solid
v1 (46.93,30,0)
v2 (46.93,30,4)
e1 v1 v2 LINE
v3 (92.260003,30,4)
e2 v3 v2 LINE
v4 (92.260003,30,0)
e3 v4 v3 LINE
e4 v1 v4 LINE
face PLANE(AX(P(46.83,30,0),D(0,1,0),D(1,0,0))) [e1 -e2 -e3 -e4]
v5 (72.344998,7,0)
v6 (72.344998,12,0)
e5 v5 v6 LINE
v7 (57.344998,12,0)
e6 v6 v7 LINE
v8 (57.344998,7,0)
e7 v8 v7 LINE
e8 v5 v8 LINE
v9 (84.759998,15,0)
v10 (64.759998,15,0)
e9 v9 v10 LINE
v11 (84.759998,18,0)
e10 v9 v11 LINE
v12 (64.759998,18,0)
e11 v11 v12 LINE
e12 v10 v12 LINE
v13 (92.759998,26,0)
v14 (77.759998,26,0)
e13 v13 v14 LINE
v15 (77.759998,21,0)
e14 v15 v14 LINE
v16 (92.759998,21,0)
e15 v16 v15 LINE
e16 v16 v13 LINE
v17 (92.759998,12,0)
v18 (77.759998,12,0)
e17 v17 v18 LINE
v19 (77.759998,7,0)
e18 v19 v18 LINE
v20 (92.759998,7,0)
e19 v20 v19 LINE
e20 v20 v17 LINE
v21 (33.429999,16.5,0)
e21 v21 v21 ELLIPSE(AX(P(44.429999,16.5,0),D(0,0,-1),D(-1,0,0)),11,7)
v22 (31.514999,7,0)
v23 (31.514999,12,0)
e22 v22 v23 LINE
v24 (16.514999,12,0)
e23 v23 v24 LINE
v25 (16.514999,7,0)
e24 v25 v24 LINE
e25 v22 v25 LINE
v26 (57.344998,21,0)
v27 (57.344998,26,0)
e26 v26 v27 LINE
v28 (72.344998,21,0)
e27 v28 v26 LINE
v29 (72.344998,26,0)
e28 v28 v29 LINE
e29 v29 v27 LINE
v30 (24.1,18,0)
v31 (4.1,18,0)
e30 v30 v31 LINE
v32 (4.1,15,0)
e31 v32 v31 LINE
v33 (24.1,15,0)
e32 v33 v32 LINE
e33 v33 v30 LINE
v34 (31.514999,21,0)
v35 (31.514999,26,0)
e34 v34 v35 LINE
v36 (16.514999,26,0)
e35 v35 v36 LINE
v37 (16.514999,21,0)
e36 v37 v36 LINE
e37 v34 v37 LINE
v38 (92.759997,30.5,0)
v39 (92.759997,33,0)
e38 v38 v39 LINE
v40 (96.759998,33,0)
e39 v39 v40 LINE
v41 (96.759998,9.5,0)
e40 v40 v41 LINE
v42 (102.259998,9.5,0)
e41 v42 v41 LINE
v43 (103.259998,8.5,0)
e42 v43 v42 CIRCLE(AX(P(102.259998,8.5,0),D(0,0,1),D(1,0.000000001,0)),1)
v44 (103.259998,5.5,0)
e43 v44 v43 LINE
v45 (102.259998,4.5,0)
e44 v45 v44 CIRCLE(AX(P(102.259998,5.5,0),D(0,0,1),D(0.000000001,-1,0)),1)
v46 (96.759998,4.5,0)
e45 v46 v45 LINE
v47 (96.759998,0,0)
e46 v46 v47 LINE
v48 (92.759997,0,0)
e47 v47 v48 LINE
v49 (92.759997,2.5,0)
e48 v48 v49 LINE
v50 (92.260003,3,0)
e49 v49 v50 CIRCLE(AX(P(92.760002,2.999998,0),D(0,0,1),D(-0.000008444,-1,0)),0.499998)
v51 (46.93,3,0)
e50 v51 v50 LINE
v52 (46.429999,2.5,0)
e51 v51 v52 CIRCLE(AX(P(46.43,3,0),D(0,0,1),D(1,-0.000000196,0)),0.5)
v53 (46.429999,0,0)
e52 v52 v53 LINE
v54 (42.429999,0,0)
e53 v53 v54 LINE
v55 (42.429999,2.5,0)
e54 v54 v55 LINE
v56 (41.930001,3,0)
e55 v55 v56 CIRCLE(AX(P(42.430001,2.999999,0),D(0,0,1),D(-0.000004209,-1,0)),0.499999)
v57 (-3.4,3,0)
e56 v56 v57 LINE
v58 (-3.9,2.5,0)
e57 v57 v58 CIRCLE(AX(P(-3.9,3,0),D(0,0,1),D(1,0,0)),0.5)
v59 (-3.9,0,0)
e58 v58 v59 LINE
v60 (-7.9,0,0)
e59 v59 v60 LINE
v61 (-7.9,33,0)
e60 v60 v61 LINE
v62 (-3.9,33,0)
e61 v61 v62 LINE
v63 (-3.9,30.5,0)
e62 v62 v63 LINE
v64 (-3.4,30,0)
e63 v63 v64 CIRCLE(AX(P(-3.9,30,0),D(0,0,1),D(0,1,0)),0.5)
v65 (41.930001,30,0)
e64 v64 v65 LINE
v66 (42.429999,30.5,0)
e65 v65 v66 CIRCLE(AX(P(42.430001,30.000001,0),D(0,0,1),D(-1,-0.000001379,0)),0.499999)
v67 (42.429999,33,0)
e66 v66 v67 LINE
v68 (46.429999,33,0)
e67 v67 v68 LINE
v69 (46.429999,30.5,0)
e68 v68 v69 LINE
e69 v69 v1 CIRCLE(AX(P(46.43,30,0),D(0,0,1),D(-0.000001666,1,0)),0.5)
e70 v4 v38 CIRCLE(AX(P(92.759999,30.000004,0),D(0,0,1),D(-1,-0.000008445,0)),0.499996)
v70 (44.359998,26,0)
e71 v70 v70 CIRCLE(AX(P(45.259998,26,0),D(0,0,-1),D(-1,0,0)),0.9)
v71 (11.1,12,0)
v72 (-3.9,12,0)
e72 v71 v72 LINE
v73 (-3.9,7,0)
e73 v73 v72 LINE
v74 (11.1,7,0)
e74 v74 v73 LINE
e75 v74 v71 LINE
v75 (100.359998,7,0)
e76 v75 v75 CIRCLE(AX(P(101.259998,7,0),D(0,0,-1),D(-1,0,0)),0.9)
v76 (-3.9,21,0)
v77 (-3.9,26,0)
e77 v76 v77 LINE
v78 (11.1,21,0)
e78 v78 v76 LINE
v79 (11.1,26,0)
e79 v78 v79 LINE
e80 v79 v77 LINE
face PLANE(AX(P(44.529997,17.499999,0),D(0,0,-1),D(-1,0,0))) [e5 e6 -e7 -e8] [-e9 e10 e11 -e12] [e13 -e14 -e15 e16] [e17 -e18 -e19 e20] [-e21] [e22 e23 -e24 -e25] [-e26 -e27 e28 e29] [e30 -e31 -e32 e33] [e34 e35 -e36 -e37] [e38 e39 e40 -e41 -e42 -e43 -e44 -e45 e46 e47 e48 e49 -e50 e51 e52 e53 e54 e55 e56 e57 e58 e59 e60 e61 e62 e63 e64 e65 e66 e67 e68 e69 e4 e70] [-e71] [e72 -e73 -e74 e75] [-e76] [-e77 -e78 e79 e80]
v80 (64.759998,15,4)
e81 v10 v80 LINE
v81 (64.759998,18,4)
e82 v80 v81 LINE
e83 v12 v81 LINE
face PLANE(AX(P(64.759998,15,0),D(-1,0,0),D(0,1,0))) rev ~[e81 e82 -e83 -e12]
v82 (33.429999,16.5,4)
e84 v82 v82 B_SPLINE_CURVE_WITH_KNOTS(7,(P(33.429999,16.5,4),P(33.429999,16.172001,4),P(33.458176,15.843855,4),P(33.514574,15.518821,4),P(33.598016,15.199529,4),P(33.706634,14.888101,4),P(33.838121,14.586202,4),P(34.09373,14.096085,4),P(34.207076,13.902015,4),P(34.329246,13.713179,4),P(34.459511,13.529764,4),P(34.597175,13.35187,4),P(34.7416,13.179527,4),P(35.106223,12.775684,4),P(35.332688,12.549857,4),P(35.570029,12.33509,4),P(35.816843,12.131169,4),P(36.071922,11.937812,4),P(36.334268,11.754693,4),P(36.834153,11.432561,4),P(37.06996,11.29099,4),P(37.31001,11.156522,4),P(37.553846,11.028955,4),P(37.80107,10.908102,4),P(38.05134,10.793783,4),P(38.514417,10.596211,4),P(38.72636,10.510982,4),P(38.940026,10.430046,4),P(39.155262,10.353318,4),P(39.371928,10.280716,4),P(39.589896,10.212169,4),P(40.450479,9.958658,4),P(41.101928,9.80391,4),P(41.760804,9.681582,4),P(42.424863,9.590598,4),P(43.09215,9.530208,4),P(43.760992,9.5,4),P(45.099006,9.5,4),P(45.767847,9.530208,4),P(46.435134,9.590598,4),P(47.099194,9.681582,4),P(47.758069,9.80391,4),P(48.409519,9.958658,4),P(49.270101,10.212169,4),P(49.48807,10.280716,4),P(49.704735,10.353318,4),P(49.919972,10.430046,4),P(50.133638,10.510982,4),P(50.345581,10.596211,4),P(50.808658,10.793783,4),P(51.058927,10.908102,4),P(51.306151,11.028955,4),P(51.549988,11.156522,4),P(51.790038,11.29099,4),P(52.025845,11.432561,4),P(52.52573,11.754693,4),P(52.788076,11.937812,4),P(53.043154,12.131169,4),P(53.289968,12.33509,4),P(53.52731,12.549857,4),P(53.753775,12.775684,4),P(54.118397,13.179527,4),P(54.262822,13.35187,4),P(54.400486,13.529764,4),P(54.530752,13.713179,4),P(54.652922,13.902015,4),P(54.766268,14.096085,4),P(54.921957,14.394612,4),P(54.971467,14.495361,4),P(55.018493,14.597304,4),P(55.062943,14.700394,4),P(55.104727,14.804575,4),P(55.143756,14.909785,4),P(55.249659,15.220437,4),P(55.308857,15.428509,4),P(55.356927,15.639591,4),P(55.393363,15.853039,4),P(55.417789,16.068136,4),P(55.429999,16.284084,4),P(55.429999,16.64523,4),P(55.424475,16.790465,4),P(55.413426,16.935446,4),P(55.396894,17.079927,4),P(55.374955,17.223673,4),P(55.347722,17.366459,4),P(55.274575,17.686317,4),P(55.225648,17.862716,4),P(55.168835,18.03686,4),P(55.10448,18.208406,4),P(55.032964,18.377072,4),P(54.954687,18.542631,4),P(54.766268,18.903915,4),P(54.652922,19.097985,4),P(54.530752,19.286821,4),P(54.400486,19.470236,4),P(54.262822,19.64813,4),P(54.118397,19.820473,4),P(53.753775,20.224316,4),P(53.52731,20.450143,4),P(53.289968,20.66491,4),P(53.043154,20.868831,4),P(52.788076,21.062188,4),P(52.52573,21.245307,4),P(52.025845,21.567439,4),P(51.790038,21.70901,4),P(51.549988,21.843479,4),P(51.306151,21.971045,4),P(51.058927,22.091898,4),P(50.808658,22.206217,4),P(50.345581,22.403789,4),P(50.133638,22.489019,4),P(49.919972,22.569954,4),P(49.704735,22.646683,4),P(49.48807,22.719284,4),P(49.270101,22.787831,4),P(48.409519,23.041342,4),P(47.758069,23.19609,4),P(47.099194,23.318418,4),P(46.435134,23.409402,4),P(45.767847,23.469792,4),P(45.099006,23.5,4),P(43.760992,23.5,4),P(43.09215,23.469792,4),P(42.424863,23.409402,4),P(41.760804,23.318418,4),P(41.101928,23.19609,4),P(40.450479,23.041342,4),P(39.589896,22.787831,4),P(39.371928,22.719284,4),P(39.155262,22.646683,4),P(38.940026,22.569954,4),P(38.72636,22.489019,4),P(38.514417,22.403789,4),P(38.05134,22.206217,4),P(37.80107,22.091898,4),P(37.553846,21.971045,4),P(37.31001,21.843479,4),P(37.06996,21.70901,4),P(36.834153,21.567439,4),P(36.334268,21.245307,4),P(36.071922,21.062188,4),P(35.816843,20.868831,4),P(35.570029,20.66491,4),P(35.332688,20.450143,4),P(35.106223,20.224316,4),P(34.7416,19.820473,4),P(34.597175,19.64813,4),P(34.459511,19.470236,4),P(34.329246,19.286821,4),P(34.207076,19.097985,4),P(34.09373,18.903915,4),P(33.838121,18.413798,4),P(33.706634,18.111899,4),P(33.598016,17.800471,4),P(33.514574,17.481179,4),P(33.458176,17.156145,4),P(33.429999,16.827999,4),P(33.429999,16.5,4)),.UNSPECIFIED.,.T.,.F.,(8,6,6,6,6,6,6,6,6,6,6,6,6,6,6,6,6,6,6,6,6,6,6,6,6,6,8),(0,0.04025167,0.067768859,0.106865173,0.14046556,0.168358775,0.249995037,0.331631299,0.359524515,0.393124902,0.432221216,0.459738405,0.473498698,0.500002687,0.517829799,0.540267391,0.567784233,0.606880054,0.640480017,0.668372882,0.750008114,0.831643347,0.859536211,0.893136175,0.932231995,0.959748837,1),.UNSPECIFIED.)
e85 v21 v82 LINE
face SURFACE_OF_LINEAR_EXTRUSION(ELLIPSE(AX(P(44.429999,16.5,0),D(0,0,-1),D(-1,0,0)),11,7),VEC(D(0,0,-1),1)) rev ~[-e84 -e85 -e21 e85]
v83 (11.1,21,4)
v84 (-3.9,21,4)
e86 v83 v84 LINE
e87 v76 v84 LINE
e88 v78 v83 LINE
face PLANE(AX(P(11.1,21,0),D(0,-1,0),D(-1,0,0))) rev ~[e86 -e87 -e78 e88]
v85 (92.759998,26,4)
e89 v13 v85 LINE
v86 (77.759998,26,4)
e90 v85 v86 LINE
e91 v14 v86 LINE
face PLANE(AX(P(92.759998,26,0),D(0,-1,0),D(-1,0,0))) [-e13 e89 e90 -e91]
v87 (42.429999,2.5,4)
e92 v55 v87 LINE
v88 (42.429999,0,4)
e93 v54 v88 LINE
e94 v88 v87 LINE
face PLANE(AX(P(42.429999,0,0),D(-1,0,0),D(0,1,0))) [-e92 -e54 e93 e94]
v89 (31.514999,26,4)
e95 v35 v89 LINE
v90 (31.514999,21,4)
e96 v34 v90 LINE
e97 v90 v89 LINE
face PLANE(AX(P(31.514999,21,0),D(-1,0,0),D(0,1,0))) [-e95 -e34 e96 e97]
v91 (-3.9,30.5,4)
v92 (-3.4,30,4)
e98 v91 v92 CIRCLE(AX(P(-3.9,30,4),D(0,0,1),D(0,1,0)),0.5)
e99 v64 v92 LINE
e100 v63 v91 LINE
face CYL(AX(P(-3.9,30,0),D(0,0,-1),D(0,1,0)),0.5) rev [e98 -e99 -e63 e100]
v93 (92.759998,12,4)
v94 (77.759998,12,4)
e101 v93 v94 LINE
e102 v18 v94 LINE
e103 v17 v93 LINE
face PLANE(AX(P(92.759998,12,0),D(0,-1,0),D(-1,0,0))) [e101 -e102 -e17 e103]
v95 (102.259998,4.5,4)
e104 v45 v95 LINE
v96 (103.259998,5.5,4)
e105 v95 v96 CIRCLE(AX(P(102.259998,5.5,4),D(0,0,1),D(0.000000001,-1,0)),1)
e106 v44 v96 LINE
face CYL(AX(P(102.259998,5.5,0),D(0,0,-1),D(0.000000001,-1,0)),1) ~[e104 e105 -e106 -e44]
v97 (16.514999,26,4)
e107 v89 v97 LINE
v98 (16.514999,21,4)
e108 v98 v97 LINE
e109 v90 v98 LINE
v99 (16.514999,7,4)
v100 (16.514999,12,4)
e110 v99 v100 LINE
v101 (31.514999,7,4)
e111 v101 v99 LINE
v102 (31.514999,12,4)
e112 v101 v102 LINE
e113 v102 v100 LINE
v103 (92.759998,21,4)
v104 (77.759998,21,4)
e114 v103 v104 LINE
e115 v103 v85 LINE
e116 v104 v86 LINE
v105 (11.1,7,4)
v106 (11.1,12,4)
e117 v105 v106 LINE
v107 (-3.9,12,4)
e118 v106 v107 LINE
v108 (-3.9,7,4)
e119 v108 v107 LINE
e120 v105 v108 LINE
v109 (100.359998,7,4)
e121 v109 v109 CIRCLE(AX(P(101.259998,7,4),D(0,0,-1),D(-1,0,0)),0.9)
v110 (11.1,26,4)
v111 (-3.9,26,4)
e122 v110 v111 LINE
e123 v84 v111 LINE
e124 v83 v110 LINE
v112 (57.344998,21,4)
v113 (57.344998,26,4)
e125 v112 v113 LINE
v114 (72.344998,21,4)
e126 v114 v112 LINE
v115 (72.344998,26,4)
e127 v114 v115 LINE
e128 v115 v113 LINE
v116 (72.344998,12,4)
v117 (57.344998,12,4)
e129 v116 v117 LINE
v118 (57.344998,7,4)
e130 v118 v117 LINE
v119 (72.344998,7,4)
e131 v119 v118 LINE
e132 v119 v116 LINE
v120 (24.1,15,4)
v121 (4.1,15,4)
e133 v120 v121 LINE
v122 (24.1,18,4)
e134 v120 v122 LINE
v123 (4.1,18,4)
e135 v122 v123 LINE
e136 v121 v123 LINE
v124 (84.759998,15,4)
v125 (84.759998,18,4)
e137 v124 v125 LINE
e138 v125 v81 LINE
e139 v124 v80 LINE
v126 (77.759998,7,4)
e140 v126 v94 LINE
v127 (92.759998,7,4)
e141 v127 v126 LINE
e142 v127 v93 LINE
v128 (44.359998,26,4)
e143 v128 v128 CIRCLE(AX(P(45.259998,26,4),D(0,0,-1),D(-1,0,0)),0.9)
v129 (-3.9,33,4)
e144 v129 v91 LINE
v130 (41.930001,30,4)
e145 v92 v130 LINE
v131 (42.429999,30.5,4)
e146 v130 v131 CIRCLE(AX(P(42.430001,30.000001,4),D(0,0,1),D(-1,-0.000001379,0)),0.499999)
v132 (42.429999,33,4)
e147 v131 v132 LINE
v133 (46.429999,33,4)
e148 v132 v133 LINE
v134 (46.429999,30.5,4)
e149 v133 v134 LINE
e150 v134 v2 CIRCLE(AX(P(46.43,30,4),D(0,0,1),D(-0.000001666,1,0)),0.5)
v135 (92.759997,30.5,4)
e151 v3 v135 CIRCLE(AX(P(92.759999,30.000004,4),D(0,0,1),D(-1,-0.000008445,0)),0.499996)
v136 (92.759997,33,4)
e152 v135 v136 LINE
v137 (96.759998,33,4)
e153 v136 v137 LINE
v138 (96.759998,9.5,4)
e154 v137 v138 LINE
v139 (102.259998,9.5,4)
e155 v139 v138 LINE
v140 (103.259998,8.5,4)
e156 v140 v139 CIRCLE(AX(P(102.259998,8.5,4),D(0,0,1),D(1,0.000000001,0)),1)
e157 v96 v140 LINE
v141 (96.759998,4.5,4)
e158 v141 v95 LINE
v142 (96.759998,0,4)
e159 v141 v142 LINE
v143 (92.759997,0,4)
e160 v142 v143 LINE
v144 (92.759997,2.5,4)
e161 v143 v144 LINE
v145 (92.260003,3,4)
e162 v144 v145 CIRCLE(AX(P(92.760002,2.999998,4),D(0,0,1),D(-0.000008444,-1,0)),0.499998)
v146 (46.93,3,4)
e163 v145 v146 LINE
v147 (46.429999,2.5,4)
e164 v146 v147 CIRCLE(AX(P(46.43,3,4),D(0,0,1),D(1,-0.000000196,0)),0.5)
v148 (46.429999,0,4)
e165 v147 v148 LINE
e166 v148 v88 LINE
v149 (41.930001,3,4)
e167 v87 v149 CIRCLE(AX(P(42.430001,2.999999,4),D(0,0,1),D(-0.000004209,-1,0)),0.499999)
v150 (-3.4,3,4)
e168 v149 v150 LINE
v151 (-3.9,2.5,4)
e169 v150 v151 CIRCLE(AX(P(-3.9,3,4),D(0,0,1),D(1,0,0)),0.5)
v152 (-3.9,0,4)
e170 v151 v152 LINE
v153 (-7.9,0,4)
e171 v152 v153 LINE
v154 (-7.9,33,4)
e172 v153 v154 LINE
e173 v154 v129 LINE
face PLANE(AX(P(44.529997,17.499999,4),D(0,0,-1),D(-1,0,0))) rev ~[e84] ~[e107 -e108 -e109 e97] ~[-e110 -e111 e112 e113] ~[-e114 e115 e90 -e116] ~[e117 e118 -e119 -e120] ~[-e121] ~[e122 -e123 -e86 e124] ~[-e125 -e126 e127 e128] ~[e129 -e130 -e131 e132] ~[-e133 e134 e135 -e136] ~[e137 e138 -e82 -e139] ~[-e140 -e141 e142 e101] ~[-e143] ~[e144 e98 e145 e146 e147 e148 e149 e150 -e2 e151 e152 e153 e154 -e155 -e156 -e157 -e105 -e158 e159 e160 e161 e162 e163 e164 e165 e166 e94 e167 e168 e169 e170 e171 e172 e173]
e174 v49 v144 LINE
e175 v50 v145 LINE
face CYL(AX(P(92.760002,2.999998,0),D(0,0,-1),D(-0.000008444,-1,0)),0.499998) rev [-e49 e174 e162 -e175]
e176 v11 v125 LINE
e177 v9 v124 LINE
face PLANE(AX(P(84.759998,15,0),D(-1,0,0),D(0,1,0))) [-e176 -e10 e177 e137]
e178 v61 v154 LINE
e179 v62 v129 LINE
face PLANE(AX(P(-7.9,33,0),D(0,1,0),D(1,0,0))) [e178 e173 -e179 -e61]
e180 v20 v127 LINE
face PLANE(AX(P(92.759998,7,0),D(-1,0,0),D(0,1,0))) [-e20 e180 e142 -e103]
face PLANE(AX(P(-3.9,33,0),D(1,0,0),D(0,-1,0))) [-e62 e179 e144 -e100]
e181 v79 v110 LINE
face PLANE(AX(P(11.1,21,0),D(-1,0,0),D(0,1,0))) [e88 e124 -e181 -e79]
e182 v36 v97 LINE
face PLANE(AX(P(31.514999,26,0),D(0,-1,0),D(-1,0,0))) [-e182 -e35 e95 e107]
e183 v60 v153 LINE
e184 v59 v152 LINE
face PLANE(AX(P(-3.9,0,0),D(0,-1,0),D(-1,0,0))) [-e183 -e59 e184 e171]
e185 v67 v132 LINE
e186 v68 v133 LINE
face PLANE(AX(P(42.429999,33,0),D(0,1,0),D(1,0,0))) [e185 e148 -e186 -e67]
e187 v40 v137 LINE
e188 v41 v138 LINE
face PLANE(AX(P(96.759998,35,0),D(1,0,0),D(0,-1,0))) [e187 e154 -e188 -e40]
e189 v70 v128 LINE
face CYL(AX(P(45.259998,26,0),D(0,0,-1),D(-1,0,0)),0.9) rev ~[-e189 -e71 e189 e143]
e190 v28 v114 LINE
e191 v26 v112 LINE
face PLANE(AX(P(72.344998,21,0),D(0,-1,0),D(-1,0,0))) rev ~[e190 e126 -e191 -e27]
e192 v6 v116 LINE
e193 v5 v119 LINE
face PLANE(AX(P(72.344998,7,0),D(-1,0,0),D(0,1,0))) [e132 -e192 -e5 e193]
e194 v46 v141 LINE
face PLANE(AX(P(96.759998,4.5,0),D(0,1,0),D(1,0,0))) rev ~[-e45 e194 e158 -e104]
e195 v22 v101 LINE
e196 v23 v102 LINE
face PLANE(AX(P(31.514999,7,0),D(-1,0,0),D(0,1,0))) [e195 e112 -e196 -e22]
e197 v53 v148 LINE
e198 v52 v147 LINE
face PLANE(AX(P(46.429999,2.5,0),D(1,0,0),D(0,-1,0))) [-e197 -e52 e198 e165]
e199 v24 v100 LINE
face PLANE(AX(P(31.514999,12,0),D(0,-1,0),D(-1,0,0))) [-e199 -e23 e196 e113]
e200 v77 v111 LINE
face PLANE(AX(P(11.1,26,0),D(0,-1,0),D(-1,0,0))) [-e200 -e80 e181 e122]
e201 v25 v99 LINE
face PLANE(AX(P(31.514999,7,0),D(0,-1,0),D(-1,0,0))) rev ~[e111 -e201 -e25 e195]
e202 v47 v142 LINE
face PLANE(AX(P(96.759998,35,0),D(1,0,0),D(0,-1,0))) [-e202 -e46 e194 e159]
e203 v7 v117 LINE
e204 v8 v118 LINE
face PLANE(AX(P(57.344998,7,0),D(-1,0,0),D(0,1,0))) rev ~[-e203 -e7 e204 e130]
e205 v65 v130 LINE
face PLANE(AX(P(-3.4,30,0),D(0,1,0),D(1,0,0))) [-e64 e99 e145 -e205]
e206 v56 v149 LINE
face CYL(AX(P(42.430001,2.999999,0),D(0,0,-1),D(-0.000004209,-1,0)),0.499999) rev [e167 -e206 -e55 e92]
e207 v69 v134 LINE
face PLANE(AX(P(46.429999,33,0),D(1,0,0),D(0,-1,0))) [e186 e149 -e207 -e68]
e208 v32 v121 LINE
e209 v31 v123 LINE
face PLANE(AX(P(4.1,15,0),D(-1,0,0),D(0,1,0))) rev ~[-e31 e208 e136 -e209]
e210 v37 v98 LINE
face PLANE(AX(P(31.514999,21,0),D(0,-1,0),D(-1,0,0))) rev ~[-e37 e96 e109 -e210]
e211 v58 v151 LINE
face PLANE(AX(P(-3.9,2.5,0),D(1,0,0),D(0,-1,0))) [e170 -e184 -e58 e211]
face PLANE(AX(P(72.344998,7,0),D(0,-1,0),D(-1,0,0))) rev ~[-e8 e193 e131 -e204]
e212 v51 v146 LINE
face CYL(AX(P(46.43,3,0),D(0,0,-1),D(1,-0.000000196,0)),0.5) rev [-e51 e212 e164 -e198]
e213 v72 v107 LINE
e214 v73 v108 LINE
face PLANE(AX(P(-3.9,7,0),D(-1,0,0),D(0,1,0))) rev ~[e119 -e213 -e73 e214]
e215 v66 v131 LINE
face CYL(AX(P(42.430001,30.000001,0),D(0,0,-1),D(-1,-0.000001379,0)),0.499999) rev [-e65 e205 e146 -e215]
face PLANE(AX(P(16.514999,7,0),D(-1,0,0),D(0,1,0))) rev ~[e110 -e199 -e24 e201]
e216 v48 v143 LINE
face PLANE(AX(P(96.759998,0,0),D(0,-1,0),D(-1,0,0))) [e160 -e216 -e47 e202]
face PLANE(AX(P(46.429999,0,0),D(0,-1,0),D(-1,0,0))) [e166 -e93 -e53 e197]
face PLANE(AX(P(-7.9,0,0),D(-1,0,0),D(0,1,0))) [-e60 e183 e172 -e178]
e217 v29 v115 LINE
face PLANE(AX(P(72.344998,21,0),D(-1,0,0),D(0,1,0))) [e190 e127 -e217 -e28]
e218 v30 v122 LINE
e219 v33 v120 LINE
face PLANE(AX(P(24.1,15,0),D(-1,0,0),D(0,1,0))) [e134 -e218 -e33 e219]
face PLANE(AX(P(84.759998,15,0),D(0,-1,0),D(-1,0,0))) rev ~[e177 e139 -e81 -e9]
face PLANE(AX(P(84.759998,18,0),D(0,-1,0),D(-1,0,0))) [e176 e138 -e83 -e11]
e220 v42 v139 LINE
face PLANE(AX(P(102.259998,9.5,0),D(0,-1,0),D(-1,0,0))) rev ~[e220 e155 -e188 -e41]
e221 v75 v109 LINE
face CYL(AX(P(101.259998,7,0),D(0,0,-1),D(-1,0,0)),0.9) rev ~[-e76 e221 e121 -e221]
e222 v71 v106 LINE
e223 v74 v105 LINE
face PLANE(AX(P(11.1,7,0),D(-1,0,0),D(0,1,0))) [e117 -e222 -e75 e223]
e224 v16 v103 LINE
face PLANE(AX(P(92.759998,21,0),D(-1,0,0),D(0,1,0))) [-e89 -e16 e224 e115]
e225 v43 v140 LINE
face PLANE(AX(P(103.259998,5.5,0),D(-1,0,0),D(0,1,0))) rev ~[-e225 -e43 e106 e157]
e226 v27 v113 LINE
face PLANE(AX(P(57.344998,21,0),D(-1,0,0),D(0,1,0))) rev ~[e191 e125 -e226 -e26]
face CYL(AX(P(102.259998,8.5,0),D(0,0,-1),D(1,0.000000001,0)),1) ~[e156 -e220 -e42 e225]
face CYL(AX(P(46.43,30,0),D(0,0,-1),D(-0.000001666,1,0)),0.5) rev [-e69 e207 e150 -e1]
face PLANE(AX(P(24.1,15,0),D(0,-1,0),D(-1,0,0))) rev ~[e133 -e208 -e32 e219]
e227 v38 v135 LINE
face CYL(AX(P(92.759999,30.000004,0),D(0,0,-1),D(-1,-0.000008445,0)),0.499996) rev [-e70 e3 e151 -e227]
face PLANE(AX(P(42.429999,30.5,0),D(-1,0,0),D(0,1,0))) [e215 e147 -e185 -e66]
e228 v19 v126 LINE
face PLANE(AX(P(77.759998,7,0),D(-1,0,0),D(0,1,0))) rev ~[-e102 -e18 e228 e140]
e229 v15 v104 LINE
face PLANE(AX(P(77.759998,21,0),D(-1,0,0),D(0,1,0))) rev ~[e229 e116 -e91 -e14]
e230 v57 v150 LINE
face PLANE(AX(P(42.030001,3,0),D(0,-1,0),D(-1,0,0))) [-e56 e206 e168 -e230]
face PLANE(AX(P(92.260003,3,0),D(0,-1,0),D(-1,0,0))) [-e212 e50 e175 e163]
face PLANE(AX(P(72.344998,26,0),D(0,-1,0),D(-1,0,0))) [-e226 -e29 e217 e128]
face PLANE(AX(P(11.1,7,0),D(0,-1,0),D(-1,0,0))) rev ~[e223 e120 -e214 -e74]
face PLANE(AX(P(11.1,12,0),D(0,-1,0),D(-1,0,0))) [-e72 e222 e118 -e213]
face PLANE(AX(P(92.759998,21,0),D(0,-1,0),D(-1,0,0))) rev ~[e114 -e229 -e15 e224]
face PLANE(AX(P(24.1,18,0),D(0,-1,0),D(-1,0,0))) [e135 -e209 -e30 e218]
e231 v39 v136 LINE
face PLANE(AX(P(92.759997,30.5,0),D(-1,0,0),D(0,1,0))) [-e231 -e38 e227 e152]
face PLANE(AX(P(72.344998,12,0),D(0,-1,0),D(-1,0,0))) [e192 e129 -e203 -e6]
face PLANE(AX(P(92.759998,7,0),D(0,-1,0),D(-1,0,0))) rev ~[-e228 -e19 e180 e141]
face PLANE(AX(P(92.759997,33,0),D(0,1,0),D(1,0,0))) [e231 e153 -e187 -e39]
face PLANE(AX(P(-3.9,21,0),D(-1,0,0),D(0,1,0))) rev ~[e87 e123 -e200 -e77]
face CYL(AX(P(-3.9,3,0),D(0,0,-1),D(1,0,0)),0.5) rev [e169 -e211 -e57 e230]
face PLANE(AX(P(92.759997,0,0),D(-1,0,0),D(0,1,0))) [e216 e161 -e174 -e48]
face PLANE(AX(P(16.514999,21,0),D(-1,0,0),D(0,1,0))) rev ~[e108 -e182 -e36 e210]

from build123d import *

# Parameters (mm, degrees)
EXTRUDE_2_DEPTH     = 4
SKETCH_3_R          = 0.9
EXTRUDE_3_DEPTH     = 4
SKETCH_4_R          = 0.9
CUT_EXTRUDE_1_DEPTH = 10
SKETCH_5_RX         = 11
SKETCH_5_RY         = 7
SKETCH_5_W          = 15
SKETCH_5_H          = 5
SKETCH_5_W_2        = 20
SKETCH_5_H_2        = 3
CUT_EXTRUDE_2_DEPTH = 10


with BuildPart() as part:
    # 草图2 → 凸台-拉伸2 (new body)
    with BuildSketch(Plane.XY):
        with BuildLine():
            Line((92.360003471, 3.000000026), (46.930000186, 3.000000026))
            ThreePointArc((46.930000186, 3.000000026), (46.076446818, 3.353553971), (46.429999173, 2.499999944))
            Line((46.429999173, 2.499999944), (46.429999173, 0))
            Line((46.429999173, 0), (42.429998517, 0))
            Line((42.429998517, 0), (42.429998517, 2.499999944))
            ThreePointArc((42.429998517, 2.499999944), (42.78355457, 3.35355131), (41.930001229, 3.000000026))
            Line((41.930001229, 3.000000026), (-3.49999981, 3.000000026))
            ThreePointArc((-3.49999981, 3.000000026), (-4.353553201, 3.353553417), (-3.99999981, 2.500000026))
            Line((-3.99999981, 2.500000026), (-3.99999981, 0))
            Line((-3.99999981, 0), (-8, 0))
            Line((-8, 0), (-8, 35.000000149))
            Line((-8, 35.000000149), (-3.99999981, 35.000000149))
            Line((-3.99999981, 35.000000149), (-3.99999981, 32.500000123))
            ThreePointArc((-3.99999981, 32.500000123), (-4.353553201, 31.646446732), (-3.49999981, 32.000000123))
            Line((-3.49999981, 32.000000123), (41.930001229, 32.000000123))
            ThreePointArc((41.930001229, 32.000000123), (42.78355457, 31.646448839), (42.429998517, 32.500000205))
            Line((42.429998517, 32.500000205), (42.429998517, 35.000000149))
            Line((42.429998517, 35.000000149), (46.429999173, 35.000000149))
            Line((46.429999173, 35.000000149), (46.429999173, 32.500000205))
            ThreePointArc((46.429999173, 32.500000205), (46.076446818, 31.646446178), (46.930000186, 32.000000123))
            Line((46.930000186, 32.000000123), (92.360003471, 32.000000123))
            ThreePointArc((92.360003471, 32.000000123), (93.213546668, 31.646450955), (92.8599975, 32.500000123))
            Line((92.8599975, 32.500000123), (92.8599975, 35.000000149))
            Line((92.8599975, 35.000000149), (96.85999769, 35.000000149))
            Line((96.85999769, 35.000000149), (96.85999769, 0))
            Line((96.85999769, 0), (92.8599975, 0))
            Line((92.8599975, 0), (92.8599975, 2.500000026))
            ThreePointArc((92.8599975, 2.500000026), (93.21355089, 3.353553417), (92.360003471, 3.000000026))
        make_face()
    extrude(amount=EXTRUDE_2_DEPTH)


with BuildPart() as body_2:
    # Split Bodies 1: the piece on the far side of the plane
    add(part.part)
    split(bisect_by=Plane.YZ.offset(48.429999172), keep=Keep.BOTTOM)


with BuildPart() as part_1:
    add(part.part)

    # Split Bodies 1
    split(bisect_by=Plane.YZ.offset(48.429999172), keep=Keep.TOP)


with BuildPart() as part_2:
    # Move Body 1: moved
    add(part_1.part.moved(Location((-0.1, 0, 0))))


with BuildPart() as body_3:
    # Split Bodies 2: the piece on the far side of the plane
    add(body_2.part)
    split(bisect_by=Plane(origin=(40.429998517, 0, 0), x_dir=(0, -1, 0), z_dir=(-1, 0, 0)), keep=Keep.BOTTOM)


with BuildPart() as body_2_1:
    add(body_2.part)

    # Split Bodies 2
    split(bisect_by=Plane(origin=(40.429998517, 0, 0), x_dir=(0, -1, 0), z_dir=(-1, 0, 0)), keep=Keep.TOP)


with BuildPart() as body_2_2:
    # Move Body 2: moved
    add(body_2_1.part.moved(Location((0.1, 0, 0))))


with BuildPart() as part_3:
    add(part_2.part)

    # Combine 2: union body 3, body 2
    add(body_3.part)
    add(body_2_2.part)


with BuildPart() as body_2_2_1:
    # Split Bodies 3: the piece on the far side of the plane
    add(part_3.part)
    split(bisect_by=Plane(origin=(0, 27.000000123, 0), x_dir=(1, 0, 0), z_dir=(0, 1, 0)), keep=Keep.BOTTOM)


with BuildPart() as part_4:
    add(part_3.part)

    # Split Bodies 3
    split(bisect_by=Plane(origin=(0, 27.000000123, 0), x_dir=(1, 0, 0), z_dir=(0, 1, 0)), keep=Keep.TOP)


with BuildPart() as part_5:
    # Move Body 3: moved
    add(part_4.part.moved(Location((0, -2, 0))))

    # Combine 3: union body 2 2
    add(body_2_2_1.part)

    # 草图3 → 凸台-拉伸3 (add)
    with BuildSketch(Plane(origin=(0, 0, 0), x_dir=(-1, 0, 0), z_dir=(0, 0, -1))):
        with BuildLine():
            Line((-102.25999769, 9.500000075), (-96.75999769, 9.500000075))
            Line((-96.75999769, 9.500000075), (-96.75999769, 4.500000075))
            Line((-96.75999769, 4.500000075), (-102.25999769, 4.500000074))
            ThreePointArc((-102.25999769, 4.500000074), (-102.967104471, 4.792893293), (-103.25999769, 5.500000074))
            Line((-103.25999769, 5.500000074), (-103.25999769, 8.500000075))
            ThreePointArc((-103.25999769, 8.500000075), (-102.967104471, 9.207106856), (-102.25999769, 9.500000075))
        make_face()
        with Locations((-101.25999769, 7.000000075)):
            Circle(SKETCH_3_R, mode=Mode.SUBTRACT)
    extrude(amount=-EXTRUDE_3_DEPTH)

    # 草图4 → 切除-拉伸1 (cut)
    with BuildSketch(Plane(origin=(0, 0, 0), x_dir=(-1, 0, 0), z_dir=(0, 0, -1))):
        with Locations((-45.25999769, 26.000000075)):
            Circle(SKETCH_4_R)
    extrude(amount=-CUT_EXTRUDE_1_DEPTH, mode=Mode.SUBTRACT)

    # 草图5 → 切除-拉伸2 (cut)
    with BuildSketch(Plane(origin=(0, 0, 0), x_dir=(-1, 0, 0), z_dir=(0, 0, -1))):
        with Locations((-44.429998845, 16.500000074)):
            Ellipse(SKETCH_5_RX, SKETCH_5_RY)
        with Locations((-85.25999769, 23.500000123)):
            Rectangle(SKETCH_5_W, SKETCH_5_H)
        with Locations((-64.844998267, 23.500000123)):
            Rectangle(SKETCH_5_W, SKETCH_5_H)
        with Locations((-24.014999422, 23.500000123)):
            Rectangle(SKETCH_5_W, SKETCH_5_H)
        with Locations((-3.6, 23.500000123)):
            Rectangle(SKETCH_5_W, SKETCH_5_H)
        with Locations((-3.6, 9.500000026)):
            Rectangle(SKETCH_5_W, SKETCH_5_H)
        with Locations((-24.014999422, 9.500000026)):
            Rectangle(SKETCH_5_W, SKETCH_5_H)
        with Locations((-64.844998267, 9.500000026)):
            Rectangle(SKETCH_5_W, SKETCH_5_H)
        with Locations((-85.25999769, 9.500000026)):
            Rectangle(SKETCH_5_W, SKETCH_5_H)
        with Locations((-74.75999769, 16.500000123)):
            Rectangle(SKETCH_5_W_2, SKETCH_5_H_2)
        with Locations((-14.1, 16.500000123)):
            Rectangle(SKETCH_5_W_2, SKETCH_5_H_2)
    extrude(amount=-CUT_EXTRUDE_2_DEPTH, mode=Mode.SUBTRACT)


solid = part_5.part
